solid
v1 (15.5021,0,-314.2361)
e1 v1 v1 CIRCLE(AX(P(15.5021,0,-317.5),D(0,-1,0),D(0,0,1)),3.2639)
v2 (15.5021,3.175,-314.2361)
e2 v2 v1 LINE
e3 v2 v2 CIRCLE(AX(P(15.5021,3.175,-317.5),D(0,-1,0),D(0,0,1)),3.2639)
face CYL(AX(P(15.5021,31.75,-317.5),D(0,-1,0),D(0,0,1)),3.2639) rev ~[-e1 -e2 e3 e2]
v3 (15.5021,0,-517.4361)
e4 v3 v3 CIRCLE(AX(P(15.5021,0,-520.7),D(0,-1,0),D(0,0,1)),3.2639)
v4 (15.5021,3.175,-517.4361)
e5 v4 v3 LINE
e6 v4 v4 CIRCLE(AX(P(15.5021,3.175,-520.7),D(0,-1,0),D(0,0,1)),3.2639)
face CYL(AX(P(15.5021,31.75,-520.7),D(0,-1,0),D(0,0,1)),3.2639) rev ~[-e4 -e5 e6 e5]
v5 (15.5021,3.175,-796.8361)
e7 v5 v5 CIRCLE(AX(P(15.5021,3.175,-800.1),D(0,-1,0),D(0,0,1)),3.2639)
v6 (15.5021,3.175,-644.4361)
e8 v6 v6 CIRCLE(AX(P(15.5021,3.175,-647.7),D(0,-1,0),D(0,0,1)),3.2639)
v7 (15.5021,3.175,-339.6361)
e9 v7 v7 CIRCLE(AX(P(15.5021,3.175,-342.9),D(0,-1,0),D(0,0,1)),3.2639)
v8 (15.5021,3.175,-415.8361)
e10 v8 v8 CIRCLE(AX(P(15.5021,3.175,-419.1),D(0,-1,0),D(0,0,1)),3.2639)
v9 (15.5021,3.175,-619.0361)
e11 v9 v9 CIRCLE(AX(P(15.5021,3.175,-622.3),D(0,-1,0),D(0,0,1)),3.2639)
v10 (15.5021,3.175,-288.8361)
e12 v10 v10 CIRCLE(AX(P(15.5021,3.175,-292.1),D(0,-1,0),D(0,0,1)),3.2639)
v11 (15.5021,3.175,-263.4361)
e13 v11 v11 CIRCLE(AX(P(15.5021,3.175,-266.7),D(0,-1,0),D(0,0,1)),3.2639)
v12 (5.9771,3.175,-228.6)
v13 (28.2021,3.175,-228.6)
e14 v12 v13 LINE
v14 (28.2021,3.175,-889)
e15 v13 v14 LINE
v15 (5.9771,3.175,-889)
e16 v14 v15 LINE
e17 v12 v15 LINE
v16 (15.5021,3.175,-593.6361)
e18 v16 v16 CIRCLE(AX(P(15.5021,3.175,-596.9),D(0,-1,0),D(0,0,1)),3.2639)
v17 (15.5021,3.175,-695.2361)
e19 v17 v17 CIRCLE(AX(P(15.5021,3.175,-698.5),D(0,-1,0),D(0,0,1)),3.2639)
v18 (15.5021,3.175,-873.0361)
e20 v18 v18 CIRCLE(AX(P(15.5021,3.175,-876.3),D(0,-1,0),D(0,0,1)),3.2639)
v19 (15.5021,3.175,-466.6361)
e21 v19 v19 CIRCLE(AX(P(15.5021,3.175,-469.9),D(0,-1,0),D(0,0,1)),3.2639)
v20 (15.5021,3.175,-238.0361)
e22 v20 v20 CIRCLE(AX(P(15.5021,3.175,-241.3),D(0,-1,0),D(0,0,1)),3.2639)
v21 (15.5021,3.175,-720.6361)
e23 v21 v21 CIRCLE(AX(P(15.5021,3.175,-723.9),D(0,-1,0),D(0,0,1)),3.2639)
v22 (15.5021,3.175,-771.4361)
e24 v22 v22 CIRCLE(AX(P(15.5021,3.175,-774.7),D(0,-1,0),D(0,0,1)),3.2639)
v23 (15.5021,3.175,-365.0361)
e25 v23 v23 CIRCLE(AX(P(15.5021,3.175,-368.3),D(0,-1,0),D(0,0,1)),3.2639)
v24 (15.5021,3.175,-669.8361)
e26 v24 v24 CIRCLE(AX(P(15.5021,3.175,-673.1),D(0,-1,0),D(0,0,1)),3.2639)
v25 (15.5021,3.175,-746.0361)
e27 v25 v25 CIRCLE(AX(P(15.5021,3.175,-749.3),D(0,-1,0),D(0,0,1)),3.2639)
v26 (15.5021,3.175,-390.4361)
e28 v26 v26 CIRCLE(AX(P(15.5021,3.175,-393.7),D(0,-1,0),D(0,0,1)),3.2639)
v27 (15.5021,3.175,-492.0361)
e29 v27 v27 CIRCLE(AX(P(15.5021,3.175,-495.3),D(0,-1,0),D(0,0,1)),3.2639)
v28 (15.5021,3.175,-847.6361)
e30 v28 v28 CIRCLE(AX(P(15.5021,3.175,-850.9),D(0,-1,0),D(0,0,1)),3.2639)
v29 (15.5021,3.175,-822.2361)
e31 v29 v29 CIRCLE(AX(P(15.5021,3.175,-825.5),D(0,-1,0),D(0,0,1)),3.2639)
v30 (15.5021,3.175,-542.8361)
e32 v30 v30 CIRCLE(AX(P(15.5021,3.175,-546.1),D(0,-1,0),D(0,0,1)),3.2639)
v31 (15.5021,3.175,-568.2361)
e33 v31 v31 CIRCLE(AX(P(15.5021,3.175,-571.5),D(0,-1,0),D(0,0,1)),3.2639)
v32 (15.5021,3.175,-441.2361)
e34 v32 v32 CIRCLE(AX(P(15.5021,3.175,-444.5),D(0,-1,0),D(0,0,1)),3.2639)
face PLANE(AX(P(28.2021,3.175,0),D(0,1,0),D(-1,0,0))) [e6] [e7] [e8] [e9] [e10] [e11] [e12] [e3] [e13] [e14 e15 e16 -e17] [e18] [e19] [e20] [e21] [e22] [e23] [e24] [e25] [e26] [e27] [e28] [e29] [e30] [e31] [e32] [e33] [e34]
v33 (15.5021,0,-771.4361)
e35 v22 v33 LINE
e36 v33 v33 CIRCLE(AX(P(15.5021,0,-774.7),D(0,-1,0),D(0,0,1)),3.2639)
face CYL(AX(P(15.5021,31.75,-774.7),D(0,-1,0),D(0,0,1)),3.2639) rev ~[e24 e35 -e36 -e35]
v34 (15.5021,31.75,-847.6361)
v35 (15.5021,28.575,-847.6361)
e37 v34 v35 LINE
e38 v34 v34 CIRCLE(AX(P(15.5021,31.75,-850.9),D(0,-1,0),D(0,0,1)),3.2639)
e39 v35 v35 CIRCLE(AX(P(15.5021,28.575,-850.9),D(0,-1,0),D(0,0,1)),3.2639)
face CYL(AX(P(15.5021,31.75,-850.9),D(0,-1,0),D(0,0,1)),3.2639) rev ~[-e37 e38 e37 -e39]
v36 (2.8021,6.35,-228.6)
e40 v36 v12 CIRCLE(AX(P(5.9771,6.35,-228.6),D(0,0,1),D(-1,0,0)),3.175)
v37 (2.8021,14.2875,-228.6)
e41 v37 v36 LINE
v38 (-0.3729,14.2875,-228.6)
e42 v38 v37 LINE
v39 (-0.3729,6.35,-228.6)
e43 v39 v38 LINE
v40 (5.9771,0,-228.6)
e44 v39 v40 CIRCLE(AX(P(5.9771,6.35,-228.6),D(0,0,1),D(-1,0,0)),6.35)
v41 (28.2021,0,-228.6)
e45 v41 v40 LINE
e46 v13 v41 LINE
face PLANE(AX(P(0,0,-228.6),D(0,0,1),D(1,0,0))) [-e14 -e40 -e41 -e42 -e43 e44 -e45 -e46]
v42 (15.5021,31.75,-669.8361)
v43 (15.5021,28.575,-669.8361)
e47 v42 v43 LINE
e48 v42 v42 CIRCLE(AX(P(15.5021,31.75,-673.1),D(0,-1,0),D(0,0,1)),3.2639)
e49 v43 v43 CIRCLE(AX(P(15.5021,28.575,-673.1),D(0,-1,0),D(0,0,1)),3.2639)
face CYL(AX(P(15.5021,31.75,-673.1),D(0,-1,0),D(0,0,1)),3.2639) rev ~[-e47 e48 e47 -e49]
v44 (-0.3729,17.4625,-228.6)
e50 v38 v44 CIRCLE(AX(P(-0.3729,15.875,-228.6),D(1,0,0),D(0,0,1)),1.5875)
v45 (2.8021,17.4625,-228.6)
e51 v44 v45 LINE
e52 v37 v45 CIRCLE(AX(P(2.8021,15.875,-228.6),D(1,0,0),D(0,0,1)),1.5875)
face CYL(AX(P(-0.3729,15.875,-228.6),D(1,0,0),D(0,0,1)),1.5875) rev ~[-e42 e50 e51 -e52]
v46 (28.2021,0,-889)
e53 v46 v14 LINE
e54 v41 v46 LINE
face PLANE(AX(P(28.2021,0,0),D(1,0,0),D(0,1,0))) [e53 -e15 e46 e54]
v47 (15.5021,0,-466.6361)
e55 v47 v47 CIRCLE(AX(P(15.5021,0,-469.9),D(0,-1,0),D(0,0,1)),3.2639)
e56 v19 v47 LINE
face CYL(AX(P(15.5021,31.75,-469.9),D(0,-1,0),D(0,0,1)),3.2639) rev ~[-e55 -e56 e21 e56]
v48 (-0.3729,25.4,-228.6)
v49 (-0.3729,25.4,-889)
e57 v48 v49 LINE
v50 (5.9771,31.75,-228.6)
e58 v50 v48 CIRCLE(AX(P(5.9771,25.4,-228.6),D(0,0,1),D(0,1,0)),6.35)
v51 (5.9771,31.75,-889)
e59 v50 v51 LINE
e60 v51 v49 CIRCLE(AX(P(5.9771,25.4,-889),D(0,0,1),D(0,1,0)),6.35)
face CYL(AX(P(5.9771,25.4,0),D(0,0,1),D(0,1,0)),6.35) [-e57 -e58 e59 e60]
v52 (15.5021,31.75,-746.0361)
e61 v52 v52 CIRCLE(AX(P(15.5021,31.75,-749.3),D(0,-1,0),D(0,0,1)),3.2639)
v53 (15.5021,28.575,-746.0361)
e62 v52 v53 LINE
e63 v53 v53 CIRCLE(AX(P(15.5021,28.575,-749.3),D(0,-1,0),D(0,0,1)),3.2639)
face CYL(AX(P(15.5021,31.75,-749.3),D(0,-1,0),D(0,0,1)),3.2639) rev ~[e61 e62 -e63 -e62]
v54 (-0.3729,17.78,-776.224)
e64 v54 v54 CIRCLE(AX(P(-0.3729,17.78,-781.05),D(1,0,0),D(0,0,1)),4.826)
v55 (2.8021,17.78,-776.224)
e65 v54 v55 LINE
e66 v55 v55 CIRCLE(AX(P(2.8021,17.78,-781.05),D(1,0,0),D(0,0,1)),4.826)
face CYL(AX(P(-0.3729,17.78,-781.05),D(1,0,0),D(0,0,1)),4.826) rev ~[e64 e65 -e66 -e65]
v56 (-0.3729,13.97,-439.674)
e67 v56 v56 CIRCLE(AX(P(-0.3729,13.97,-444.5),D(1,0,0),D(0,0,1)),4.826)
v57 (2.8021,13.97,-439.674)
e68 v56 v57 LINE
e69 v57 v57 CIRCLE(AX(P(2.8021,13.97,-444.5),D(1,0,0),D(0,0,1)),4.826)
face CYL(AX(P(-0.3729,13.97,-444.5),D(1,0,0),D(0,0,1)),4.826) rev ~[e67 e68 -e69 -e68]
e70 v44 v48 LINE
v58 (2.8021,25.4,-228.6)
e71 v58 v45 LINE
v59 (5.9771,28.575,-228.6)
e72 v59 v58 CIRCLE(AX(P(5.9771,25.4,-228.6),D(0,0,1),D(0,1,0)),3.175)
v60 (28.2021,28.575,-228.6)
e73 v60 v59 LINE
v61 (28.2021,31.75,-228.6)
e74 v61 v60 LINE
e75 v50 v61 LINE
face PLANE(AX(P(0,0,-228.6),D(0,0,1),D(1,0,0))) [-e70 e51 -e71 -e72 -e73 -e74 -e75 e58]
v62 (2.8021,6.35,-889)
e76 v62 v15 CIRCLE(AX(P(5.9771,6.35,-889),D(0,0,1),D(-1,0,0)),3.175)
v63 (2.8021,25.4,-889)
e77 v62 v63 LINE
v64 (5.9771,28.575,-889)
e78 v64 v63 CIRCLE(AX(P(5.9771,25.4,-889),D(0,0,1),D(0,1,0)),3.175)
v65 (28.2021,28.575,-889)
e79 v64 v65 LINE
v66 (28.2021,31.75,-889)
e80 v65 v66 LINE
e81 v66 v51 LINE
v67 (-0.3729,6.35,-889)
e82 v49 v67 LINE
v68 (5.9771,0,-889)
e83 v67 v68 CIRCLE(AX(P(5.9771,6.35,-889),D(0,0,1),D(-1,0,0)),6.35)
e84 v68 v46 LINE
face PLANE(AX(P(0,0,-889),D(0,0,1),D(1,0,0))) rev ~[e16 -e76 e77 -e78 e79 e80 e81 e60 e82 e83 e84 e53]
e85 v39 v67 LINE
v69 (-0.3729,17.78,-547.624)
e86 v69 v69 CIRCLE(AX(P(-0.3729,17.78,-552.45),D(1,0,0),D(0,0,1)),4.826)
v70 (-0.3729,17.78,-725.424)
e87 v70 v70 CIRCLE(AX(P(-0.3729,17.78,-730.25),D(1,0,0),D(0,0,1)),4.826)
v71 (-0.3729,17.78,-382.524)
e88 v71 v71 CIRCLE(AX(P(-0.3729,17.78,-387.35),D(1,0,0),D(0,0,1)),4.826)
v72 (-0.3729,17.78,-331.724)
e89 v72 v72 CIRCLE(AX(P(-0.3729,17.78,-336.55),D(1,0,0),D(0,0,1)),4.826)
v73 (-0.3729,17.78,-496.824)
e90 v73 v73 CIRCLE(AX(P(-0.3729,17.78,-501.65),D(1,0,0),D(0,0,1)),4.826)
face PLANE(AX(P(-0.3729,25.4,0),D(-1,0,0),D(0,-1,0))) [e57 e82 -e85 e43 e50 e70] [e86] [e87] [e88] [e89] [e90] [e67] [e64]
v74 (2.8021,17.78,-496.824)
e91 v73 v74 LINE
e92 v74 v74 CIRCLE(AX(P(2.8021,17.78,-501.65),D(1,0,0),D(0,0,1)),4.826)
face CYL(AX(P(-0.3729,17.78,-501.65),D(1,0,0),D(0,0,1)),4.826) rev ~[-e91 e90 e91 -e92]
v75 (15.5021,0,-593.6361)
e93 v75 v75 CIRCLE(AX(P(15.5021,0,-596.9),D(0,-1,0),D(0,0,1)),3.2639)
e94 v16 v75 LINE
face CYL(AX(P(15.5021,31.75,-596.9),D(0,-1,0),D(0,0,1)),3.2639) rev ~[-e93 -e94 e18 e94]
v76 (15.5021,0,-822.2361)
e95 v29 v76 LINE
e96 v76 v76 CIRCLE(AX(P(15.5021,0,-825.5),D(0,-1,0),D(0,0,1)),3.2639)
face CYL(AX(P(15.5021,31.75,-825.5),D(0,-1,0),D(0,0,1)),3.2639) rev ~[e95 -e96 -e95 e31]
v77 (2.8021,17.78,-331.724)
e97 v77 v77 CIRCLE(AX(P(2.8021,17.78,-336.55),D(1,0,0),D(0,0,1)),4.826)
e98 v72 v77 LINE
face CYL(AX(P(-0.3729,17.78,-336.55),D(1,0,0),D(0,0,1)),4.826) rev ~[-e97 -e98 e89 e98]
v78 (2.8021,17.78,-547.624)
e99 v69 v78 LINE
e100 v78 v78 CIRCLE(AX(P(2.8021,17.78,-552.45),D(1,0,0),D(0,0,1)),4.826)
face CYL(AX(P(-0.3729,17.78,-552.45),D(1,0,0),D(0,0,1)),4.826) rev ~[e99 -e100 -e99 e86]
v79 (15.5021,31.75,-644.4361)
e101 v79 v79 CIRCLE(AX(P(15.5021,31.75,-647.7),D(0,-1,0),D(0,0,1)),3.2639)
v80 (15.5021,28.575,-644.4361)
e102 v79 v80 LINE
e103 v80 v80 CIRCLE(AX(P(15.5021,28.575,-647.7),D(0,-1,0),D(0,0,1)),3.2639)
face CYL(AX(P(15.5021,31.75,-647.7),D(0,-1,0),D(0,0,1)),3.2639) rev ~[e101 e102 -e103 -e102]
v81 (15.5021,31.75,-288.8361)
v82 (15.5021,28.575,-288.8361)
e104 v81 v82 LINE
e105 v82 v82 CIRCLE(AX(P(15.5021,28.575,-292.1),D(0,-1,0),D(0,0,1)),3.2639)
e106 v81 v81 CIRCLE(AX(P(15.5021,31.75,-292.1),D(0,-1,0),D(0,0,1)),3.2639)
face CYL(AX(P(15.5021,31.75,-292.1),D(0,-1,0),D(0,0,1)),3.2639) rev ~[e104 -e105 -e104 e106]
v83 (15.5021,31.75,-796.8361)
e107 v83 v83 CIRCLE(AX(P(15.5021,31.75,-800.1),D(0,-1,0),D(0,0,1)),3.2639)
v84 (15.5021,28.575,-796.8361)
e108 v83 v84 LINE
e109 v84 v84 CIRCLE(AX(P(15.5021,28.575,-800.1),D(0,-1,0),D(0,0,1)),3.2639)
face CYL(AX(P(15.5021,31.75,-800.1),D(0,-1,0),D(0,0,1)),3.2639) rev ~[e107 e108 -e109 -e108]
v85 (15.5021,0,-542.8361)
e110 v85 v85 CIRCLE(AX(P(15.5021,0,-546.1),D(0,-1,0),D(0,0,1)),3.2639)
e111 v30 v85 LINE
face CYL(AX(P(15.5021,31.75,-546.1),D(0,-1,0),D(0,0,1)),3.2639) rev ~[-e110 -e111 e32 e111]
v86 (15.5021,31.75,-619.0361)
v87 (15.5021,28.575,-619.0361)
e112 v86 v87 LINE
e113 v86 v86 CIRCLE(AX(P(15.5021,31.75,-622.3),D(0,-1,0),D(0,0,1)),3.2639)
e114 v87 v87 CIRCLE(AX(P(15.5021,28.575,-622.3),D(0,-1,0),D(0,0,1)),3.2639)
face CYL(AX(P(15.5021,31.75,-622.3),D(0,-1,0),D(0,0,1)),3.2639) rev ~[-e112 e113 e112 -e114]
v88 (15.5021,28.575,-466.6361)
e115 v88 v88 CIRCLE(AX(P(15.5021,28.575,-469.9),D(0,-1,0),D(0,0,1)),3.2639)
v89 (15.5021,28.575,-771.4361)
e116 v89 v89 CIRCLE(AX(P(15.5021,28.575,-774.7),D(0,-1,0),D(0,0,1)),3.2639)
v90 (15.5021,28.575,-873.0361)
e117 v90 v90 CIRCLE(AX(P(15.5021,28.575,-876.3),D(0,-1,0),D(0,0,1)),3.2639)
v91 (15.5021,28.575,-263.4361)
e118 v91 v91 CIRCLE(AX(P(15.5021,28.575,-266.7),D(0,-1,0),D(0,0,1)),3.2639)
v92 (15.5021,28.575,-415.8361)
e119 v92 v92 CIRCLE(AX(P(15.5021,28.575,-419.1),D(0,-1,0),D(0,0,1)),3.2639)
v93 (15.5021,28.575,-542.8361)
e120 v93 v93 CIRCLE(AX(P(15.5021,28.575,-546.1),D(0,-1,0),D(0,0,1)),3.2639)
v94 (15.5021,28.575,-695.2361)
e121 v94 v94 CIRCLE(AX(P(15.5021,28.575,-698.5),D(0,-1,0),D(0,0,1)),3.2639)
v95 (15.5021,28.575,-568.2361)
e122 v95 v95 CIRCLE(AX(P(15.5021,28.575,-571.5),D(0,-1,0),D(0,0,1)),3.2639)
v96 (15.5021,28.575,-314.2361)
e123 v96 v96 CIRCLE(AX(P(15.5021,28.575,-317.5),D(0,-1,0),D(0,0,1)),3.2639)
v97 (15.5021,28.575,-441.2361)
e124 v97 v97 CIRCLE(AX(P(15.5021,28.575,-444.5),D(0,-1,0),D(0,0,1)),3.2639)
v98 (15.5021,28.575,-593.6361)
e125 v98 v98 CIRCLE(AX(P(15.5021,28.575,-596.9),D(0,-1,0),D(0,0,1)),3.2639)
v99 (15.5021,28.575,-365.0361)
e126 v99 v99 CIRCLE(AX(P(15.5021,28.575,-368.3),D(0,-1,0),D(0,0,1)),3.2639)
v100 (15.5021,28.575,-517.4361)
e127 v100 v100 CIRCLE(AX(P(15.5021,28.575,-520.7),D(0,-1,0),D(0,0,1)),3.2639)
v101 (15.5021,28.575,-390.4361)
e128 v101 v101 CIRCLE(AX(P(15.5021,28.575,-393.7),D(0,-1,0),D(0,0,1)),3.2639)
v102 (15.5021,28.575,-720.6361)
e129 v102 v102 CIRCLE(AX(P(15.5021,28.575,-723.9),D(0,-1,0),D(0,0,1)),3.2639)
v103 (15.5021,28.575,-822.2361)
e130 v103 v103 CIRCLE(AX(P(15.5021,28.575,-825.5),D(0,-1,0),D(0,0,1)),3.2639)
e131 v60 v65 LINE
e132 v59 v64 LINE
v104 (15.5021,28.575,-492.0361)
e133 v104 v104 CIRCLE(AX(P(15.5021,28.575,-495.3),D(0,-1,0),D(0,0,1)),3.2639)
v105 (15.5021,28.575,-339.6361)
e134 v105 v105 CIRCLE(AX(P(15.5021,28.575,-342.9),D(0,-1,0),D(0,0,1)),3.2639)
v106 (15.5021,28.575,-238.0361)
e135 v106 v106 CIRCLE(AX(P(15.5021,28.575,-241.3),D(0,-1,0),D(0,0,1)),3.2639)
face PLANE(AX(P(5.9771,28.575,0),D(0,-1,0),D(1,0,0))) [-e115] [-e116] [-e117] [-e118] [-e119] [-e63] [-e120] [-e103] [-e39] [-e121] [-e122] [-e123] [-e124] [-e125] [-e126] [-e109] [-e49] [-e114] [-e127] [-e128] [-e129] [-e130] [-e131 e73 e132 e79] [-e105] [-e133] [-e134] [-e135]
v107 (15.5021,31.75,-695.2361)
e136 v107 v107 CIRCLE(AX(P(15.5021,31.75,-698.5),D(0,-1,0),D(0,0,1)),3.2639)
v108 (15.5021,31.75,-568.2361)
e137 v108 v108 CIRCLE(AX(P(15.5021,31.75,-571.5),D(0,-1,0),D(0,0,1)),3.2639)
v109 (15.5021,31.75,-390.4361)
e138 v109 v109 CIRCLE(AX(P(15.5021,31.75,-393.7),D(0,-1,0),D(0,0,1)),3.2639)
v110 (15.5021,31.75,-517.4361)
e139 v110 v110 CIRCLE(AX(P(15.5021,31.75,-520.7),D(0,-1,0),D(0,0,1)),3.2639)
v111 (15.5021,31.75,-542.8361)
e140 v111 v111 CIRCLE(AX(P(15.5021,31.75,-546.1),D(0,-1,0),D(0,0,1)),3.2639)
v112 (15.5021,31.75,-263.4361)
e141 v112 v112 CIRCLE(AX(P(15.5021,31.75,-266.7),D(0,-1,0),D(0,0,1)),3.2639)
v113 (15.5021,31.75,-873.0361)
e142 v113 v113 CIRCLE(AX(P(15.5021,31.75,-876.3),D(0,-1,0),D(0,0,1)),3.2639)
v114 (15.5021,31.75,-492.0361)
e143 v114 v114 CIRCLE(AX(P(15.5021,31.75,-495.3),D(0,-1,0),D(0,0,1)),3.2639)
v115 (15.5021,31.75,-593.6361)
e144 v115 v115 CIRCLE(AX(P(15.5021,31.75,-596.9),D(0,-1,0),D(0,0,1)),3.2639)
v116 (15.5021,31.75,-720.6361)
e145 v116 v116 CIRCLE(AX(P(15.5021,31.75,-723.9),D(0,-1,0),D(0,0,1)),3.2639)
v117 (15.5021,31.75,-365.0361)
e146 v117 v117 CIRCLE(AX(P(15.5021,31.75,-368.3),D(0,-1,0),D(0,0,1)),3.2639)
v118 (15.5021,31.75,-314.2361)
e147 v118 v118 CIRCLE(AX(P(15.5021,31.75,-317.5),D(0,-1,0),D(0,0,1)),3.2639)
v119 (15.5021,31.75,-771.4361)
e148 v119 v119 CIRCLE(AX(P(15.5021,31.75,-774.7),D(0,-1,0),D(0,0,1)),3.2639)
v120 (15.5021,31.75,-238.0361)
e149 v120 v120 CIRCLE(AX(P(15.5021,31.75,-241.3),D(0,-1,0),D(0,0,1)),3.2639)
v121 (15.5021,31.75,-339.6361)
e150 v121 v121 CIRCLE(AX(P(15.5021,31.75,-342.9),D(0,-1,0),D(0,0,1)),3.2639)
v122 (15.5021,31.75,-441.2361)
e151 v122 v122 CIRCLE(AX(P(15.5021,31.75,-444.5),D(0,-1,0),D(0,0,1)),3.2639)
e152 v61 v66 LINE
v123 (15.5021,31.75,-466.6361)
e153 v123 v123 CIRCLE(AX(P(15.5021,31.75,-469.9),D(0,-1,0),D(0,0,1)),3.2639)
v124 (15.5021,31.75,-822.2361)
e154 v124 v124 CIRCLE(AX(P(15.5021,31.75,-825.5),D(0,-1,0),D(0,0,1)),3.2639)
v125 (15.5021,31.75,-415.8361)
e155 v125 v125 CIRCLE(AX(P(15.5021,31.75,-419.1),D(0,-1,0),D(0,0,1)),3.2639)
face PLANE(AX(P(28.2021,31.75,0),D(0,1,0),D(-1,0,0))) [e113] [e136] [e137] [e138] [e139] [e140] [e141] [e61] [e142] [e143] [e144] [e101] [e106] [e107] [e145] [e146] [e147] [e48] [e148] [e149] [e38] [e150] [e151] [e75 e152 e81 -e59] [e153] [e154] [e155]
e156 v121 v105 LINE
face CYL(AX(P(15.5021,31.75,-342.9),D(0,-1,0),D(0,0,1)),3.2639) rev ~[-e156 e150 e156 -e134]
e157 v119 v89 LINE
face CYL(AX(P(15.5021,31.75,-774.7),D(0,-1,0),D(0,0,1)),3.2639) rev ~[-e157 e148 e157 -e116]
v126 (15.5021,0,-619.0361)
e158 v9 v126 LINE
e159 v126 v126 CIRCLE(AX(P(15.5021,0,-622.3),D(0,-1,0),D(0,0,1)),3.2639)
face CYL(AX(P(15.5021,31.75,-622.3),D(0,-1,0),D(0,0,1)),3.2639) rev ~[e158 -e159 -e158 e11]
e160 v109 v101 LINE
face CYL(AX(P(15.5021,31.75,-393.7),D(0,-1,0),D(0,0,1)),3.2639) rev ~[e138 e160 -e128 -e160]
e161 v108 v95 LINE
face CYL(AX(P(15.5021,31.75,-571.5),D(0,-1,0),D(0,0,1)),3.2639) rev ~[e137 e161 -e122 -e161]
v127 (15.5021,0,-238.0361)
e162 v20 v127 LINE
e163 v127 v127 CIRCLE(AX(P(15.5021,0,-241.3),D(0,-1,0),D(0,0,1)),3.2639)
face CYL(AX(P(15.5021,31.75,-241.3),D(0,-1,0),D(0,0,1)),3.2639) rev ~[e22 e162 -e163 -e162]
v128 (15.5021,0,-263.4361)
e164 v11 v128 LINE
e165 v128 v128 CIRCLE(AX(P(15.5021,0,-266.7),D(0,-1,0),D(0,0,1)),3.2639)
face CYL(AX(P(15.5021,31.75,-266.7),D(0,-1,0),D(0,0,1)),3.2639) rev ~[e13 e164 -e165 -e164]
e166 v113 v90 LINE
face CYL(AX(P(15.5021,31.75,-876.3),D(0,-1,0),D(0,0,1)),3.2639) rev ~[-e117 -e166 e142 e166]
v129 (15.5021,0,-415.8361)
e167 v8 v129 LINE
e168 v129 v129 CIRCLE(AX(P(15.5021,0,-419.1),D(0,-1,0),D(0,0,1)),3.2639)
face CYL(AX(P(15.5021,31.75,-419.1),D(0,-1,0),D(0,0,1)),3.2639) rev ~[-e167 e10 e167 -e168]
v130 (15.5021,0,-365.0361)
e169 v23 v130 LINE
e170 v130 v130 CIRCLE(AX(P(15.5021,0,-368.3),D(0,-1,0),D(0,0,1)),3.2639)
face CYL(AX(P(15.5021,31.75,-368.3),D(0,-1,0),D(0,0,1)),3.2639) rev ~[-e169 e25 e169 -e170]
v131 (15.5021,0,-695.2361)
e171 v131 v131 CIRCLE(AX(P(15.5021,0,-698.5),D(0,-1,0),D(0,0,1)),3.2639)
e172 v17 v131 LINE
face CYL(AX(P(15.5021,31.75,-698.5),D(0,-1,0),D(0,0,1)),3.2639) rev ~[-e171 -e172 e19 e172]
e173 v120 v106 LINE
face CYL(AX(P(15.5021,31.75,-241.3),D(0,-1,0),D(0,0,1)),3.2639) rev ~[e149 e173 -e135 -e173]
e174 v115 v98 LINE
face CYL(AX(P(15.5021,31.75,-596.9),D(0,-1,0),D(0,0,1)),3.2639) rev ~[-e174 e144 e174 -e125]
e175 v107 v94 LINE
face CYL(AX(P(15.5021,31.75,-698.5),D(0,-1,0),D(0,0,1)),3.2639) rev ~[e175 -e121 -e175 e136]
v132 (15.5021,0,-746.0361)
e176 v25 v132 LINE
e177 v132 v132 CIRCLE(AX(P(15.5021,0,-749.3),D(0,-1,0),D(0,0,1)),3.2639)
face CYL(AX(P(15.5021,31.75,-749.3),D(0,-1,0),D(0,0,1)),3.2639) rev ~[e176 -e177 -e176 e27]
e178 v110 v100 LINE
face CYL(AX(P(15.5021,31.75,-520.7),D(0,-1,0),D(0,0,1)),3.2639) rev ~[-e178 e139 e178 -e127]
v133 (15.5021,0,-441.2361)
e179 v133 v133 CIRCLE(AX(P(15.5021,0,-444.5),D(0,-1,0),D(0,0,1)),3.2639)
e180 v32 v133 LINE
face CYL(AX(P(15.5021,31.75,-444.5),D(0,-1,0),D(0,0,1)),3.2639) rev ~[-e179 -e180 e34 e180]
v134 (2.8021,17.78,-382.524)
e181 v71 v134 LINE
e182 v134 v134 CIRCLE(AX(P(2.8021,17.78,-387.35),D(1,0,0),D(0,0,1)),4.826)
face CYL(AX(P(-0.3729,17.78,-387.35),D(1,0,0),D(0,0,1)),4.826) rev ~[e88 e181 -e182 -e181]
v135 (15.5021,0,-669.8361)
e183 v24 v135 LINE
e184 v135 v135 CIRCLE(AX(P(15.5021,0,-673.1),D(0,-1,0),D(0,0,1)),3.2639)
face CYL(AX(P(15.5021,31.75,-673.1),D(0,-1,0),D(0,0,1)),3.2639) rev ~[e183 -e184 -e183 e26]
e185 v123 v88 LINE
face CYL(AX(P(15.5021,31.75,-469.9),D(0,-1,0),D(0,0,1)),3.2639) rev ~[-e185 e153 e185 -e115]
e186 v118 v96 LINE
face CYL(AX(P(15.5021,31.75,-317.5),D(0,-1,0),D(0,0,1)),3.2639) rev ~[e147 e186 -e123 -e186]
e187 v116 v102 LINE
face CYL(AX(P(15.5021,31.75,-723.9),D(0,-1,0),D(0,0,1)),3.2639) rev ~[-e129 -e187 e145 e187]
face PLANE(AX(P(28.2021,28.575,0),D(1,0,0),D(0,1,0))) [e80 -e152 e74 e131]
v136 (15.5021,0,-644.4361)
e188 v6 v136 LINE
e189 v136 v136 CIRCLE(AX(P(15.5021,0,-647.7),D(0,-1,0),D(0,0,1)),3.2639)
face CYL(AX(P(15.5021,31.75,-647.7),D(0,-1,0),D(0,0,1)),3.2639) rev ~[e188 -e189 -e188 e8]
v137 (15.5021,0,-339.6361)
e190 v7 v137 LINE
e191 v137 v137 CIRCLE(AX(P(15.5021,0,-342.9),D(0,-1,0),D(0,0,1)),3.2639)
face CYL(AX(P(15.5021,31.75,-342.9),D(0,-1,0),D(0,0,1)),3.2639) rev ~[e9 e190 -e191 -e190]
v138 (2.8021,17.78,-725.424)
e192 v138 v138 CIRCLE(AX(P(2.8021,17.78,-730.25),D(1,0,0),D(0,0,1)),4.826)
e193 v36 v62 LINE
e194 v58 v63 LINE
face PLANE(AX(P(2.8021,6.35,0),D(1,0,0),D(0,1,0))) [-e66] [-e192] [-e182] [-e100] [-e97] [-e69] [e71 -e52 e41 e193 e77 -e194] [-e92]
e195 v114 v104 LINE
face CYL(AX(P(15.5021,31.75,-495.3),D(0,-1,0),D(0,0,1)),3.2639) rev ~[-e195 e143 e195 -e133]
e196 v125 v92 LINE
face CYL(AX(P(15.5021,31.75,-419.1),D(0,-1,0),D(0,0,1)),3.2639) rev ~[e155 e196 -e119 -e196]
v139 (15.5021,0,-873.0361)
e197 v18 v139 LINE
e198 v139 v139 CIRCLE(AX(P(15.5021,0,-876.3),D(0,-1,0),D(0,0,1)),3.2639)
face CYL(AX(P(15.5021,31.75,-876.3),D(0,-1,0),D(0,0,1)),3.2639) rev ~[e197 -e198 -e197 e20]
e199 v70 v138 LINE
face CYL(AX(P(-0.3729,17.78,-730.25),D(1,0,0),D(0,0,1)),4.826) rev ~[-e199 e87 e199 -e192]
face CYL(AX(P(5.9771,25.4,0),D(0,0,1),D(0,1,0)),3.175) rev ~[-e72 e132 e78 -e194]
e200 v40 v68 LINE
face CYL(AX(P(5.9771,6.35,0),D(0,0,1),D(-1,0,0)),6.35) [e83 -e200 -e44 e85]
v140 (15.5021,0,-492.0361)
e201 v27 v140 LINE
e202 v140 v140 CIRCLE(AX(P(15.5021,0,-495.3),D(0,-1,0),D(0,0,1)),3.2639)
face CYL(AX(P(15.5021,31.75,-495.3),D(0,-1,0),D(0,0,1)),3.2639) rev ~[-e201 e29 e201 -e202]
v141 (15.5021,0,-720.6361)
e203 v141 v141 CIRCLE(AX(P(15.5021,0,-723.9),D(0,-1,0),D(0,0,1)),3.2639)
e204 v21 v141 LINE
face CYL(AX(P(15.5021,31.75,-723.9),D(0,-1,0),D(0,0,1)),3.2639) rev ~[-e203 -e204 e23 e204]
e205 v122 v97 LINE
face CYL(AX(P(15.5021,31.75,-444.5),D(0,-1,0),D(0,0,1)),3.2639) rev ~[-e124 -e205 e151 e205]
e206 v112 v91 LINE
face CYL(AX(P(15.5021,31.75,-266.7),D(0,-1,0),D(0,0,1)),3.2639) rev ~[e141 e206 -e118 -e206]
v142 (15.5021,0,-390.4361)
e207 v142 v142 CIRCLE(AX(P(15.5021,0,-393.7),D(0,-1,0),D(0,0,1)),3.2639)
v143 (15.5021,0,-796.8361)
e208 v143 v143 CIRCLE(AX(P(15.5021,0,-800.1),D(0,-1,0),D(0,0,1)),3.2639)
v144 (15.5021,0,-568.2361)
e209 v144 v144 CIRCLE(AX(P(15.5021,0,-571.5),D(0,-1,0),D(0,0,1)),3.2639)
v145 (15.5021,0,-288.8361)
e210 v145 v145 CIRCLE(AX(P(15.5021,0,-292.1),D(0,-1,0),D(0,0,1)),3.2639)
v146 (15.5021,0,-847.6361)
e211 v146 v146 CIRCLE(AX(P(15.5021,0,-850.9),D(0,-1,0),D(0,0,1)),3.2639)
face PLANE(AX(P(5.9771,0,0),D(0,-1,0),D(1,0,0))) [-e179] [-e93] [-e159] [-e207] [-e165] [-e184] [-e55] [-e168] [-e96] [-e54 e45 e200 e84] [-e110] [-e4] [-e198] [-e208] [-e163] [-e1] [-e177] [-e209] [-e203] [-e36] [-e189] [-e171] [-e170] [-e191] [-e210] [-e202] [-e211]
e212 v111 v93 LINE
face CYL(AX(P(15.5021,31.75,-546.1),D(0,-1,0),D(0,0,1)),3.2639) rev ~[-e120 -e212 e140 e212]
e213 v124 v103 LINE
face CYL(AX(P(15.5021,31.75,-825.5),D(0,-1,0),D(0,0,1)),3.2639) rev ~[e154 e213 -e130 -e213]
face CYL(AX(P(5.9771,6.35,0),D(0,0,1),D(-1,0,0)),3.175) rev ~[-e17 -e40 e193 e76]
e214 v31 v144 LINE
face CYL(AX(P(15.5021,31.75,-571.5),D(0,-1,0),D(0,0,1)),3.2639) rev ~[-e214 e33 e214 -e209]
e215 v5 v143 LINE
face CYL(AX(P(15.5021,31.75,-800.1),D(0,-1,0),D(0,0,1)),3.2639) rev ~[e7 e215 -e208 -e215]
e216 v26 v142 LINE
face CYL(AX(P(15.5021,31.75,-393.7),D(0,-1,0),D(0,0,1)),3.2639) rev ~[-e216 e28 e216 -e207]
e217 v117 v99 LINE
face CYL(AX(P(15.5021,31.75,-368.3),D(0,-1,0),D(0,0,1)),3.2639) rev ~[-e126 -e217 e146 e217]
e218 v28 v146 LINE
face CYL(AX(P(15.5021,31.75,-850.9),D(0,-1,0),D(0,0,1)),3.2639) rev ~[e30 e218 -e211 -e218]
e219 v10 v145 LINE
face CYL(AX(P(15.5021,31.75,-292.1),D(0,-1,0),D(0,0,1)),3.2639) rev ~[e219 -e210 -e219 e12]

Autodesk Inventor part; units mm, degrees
ref_plane "YZ Plane" through (0, 0, 0) normal (1, 0, 0) x (0, 1, 0)
ref_plane "XZ Plane" through (0, 0, 0) normal (0, 1, 0) x (-1, 0, 0)
ref_plane "XY Plane" through (0, 0, 0) normal (0, 0, 1) x (1, 0, 0)
sketch "Sketch1" plane through (0, 0, 0) normal (0, 0, 1) x (1, 0, 0)
  line L0 (5.9771, 0) -> (28.2021, 0)
  line L1 (28.2021, 0) -> (28.2021, 3.175)
  line L2 (28.2021, 3.175) -> (5.9771, 3.175)
  line L3 (2.8021, 6.35) -> (2.8021, 25.4)
  line L4 (5.9771, 28.575) -> (28.2021, 28.575)
  line L5 (28.2021, 28.575) -> (28.2021, 31.75)
  line L6 (28.2021, 31.75) -> (5.9771, 31.75)
  line L7 (-0.3729, 25.4) -> (-0.3729, 6.35)
  arc A0 (5.9771, 28.575) -> (2.8021, 25.4) centre (5.9771, 25.4) ccw
  arc A1 (2.8021, 6.35) -> (5.9771, 3.175) centre (5.9771, 6.35) ccw
  arc A2 (5.9771, 31.75) -> (-0.3729, 25.4) centre (5.9771, 25.4) ccw
  arc A3 (-0.3729, 6.35) -> (5.9771, 0) centre (5.9771, 6.35) ccw
  point P0 (0, 0)
  point P1 (-0.3729, 0)
  point P2 (2.8021, 3.175)
  point P3 (2.8021, 28.575)
  dimension "d0" = 28.575
  dimension "d1" = 3.175
  dimension "d2" = 25.4
  dimension "d3" = 25.4
  dimension "d4" = 3.175
  dimension "d5" = 3.175
  dimension "d6" = 6.35
extrude "Extrusion1" add sketch "Sketch1" against normal blind 889
sketch "Sketch2" plane through (-0.3729, 6.35, 0) normal (-1, 0, 0) x (0, 0, 1)
  line L0 (0, 19.05) -> (-889, 19.05) projected
  line L1 (-228.6, 0) -> (-228.6, 7.9375)
  arc A0 (-228.6, 11.1125) -> (-228.6, 7.9375) centre (-228.6, 9.525) ccw
  line L2 (-228.6, 11.1125) -> (-228.6, 19.05)
  line L3 (-228.6, 19.05) -> (-889, 19.05)
  line L4 (-889, 0) -> (-889, 19.05)
  line L5 (-889, 0) -> (-228.6, 0)
  circle A1 centre (-552.45, 11.43) radius 4.826
  circle A2 centre (-501.65, 11.43) radius 4.826
  circle A3 centre (-387.35, 11.43) radius 4.826
  circle A4 centre (-336.55, 11.43) radius 4.826
  circle A5 centre (-444.5, 7.62) radius 4.826
  circle A6 centre (-730.25, 11.43) radius 4.826
  circle A7 centre (-781.05, 11.43) radius 4.826
  line L6 (0, 25.4) -> (-889, 25.4) construction
  circle A8 centre (-133.35, 11.43) radius 4.826
  circle A9 centre (-82.55, 11.43) radius 4.826
  point P0 (0, -6.35)
  point P1 (-254, 0.852)
  dimension "d10" = 7.62
  dimension "d11" = 3.81
  dimension "d14" = 254
hole "Hole1" at (-0.3729, 17.78, -781.05) at (-0.3729, 17.78, -730.25) at (-0.3729, 17.78, -552.45) at (-0.3729, 17.78, -501.65) at (-0.3729, 13.97, -444.5) at (-0.3729, 17.78, -387.35) at (-0.3729, 17.78, -336.55) at (-0.3729, 17.78, -133.35) at (-0.3729, 17.78, -82.55) direction (1, 0, 0) diameter 9.652 end through all
hole "Hole2" at (-0.3729, 15.875, -228.6) direction (1, 0, 0) diameter 3.175 end through all
sketch "Sketch3" plane through (5.9771, 31.75, 0) normal (0, 1, 0) x (1, 0, 0)
  line L0 (22.225, 889) -> (0, 889) projected
  line L1 (22.225, 0) -> (22.225, 889) projected
  point P0 (-5.9771, 0)
  point P1 (9.525, 876.3)
  dimension "d34" = 12.7
  dimension "d35" = 12.7
hole "Hole3" at (15.5021, 31.75, -876.3) direction (0, -1, 0) diameter 6.5278 end through all
pattern_linear "Rectangular Pattern1" count 35 spacing 25.4 along (0, 0, 1) of "Hole3"
sketch "Sketch4" plane through (0, 0, 0) normal (0, 0, 1) x (1, 0, 0)
  line L0 (28.2021, 0) -> (5.9771, 0) projected
  line L1 (28.2021, 3.175) -> (28.2021, 0) projected
  line L2 (5.9771, 3.175) -> (28.2021, 3.175) projected
  arc A0 (2.8021, 6.35) -> (5.9771, 3.175) centre (5.9771, 6.35) ccw projected
  line L3 (2.8021, 25.4) -> (2.8021, 6.35) projected
  arc A1 (5.9771, 28.575) -> (2.8021, 25.4) centre (5.9771, 25.4) ccw projected
  line L4 (28.2021, 28.575) -> (5.9771, 28.575) projected
  line L5 (28.2021, 31.75) -> (28.2021, 28.575) projected
  line L6 (5.9771, 31.75) -> (28.2021, 31.75) projected
  arc A2 (5.9771, 31.75) -> (-0.3729, 25.4) centre (5.9771, 25.4) ccw projected
  line L7 (-0.3729, 6.35) -> (-0.3729, 25.4) projected
  arc A3 (-0.3729, 6.35) -> (5.9771, 0) centre (5.9771, 6.35) ccw projected
  point P0 (0, 0)
extrude "Extrusion2" cut sketch "Sketch4" against normal blind 228.6
equation "\"d35\" = d34"
properties part number "Chassis_Channel_AndyMark_am-0202 (26 inch length)"
